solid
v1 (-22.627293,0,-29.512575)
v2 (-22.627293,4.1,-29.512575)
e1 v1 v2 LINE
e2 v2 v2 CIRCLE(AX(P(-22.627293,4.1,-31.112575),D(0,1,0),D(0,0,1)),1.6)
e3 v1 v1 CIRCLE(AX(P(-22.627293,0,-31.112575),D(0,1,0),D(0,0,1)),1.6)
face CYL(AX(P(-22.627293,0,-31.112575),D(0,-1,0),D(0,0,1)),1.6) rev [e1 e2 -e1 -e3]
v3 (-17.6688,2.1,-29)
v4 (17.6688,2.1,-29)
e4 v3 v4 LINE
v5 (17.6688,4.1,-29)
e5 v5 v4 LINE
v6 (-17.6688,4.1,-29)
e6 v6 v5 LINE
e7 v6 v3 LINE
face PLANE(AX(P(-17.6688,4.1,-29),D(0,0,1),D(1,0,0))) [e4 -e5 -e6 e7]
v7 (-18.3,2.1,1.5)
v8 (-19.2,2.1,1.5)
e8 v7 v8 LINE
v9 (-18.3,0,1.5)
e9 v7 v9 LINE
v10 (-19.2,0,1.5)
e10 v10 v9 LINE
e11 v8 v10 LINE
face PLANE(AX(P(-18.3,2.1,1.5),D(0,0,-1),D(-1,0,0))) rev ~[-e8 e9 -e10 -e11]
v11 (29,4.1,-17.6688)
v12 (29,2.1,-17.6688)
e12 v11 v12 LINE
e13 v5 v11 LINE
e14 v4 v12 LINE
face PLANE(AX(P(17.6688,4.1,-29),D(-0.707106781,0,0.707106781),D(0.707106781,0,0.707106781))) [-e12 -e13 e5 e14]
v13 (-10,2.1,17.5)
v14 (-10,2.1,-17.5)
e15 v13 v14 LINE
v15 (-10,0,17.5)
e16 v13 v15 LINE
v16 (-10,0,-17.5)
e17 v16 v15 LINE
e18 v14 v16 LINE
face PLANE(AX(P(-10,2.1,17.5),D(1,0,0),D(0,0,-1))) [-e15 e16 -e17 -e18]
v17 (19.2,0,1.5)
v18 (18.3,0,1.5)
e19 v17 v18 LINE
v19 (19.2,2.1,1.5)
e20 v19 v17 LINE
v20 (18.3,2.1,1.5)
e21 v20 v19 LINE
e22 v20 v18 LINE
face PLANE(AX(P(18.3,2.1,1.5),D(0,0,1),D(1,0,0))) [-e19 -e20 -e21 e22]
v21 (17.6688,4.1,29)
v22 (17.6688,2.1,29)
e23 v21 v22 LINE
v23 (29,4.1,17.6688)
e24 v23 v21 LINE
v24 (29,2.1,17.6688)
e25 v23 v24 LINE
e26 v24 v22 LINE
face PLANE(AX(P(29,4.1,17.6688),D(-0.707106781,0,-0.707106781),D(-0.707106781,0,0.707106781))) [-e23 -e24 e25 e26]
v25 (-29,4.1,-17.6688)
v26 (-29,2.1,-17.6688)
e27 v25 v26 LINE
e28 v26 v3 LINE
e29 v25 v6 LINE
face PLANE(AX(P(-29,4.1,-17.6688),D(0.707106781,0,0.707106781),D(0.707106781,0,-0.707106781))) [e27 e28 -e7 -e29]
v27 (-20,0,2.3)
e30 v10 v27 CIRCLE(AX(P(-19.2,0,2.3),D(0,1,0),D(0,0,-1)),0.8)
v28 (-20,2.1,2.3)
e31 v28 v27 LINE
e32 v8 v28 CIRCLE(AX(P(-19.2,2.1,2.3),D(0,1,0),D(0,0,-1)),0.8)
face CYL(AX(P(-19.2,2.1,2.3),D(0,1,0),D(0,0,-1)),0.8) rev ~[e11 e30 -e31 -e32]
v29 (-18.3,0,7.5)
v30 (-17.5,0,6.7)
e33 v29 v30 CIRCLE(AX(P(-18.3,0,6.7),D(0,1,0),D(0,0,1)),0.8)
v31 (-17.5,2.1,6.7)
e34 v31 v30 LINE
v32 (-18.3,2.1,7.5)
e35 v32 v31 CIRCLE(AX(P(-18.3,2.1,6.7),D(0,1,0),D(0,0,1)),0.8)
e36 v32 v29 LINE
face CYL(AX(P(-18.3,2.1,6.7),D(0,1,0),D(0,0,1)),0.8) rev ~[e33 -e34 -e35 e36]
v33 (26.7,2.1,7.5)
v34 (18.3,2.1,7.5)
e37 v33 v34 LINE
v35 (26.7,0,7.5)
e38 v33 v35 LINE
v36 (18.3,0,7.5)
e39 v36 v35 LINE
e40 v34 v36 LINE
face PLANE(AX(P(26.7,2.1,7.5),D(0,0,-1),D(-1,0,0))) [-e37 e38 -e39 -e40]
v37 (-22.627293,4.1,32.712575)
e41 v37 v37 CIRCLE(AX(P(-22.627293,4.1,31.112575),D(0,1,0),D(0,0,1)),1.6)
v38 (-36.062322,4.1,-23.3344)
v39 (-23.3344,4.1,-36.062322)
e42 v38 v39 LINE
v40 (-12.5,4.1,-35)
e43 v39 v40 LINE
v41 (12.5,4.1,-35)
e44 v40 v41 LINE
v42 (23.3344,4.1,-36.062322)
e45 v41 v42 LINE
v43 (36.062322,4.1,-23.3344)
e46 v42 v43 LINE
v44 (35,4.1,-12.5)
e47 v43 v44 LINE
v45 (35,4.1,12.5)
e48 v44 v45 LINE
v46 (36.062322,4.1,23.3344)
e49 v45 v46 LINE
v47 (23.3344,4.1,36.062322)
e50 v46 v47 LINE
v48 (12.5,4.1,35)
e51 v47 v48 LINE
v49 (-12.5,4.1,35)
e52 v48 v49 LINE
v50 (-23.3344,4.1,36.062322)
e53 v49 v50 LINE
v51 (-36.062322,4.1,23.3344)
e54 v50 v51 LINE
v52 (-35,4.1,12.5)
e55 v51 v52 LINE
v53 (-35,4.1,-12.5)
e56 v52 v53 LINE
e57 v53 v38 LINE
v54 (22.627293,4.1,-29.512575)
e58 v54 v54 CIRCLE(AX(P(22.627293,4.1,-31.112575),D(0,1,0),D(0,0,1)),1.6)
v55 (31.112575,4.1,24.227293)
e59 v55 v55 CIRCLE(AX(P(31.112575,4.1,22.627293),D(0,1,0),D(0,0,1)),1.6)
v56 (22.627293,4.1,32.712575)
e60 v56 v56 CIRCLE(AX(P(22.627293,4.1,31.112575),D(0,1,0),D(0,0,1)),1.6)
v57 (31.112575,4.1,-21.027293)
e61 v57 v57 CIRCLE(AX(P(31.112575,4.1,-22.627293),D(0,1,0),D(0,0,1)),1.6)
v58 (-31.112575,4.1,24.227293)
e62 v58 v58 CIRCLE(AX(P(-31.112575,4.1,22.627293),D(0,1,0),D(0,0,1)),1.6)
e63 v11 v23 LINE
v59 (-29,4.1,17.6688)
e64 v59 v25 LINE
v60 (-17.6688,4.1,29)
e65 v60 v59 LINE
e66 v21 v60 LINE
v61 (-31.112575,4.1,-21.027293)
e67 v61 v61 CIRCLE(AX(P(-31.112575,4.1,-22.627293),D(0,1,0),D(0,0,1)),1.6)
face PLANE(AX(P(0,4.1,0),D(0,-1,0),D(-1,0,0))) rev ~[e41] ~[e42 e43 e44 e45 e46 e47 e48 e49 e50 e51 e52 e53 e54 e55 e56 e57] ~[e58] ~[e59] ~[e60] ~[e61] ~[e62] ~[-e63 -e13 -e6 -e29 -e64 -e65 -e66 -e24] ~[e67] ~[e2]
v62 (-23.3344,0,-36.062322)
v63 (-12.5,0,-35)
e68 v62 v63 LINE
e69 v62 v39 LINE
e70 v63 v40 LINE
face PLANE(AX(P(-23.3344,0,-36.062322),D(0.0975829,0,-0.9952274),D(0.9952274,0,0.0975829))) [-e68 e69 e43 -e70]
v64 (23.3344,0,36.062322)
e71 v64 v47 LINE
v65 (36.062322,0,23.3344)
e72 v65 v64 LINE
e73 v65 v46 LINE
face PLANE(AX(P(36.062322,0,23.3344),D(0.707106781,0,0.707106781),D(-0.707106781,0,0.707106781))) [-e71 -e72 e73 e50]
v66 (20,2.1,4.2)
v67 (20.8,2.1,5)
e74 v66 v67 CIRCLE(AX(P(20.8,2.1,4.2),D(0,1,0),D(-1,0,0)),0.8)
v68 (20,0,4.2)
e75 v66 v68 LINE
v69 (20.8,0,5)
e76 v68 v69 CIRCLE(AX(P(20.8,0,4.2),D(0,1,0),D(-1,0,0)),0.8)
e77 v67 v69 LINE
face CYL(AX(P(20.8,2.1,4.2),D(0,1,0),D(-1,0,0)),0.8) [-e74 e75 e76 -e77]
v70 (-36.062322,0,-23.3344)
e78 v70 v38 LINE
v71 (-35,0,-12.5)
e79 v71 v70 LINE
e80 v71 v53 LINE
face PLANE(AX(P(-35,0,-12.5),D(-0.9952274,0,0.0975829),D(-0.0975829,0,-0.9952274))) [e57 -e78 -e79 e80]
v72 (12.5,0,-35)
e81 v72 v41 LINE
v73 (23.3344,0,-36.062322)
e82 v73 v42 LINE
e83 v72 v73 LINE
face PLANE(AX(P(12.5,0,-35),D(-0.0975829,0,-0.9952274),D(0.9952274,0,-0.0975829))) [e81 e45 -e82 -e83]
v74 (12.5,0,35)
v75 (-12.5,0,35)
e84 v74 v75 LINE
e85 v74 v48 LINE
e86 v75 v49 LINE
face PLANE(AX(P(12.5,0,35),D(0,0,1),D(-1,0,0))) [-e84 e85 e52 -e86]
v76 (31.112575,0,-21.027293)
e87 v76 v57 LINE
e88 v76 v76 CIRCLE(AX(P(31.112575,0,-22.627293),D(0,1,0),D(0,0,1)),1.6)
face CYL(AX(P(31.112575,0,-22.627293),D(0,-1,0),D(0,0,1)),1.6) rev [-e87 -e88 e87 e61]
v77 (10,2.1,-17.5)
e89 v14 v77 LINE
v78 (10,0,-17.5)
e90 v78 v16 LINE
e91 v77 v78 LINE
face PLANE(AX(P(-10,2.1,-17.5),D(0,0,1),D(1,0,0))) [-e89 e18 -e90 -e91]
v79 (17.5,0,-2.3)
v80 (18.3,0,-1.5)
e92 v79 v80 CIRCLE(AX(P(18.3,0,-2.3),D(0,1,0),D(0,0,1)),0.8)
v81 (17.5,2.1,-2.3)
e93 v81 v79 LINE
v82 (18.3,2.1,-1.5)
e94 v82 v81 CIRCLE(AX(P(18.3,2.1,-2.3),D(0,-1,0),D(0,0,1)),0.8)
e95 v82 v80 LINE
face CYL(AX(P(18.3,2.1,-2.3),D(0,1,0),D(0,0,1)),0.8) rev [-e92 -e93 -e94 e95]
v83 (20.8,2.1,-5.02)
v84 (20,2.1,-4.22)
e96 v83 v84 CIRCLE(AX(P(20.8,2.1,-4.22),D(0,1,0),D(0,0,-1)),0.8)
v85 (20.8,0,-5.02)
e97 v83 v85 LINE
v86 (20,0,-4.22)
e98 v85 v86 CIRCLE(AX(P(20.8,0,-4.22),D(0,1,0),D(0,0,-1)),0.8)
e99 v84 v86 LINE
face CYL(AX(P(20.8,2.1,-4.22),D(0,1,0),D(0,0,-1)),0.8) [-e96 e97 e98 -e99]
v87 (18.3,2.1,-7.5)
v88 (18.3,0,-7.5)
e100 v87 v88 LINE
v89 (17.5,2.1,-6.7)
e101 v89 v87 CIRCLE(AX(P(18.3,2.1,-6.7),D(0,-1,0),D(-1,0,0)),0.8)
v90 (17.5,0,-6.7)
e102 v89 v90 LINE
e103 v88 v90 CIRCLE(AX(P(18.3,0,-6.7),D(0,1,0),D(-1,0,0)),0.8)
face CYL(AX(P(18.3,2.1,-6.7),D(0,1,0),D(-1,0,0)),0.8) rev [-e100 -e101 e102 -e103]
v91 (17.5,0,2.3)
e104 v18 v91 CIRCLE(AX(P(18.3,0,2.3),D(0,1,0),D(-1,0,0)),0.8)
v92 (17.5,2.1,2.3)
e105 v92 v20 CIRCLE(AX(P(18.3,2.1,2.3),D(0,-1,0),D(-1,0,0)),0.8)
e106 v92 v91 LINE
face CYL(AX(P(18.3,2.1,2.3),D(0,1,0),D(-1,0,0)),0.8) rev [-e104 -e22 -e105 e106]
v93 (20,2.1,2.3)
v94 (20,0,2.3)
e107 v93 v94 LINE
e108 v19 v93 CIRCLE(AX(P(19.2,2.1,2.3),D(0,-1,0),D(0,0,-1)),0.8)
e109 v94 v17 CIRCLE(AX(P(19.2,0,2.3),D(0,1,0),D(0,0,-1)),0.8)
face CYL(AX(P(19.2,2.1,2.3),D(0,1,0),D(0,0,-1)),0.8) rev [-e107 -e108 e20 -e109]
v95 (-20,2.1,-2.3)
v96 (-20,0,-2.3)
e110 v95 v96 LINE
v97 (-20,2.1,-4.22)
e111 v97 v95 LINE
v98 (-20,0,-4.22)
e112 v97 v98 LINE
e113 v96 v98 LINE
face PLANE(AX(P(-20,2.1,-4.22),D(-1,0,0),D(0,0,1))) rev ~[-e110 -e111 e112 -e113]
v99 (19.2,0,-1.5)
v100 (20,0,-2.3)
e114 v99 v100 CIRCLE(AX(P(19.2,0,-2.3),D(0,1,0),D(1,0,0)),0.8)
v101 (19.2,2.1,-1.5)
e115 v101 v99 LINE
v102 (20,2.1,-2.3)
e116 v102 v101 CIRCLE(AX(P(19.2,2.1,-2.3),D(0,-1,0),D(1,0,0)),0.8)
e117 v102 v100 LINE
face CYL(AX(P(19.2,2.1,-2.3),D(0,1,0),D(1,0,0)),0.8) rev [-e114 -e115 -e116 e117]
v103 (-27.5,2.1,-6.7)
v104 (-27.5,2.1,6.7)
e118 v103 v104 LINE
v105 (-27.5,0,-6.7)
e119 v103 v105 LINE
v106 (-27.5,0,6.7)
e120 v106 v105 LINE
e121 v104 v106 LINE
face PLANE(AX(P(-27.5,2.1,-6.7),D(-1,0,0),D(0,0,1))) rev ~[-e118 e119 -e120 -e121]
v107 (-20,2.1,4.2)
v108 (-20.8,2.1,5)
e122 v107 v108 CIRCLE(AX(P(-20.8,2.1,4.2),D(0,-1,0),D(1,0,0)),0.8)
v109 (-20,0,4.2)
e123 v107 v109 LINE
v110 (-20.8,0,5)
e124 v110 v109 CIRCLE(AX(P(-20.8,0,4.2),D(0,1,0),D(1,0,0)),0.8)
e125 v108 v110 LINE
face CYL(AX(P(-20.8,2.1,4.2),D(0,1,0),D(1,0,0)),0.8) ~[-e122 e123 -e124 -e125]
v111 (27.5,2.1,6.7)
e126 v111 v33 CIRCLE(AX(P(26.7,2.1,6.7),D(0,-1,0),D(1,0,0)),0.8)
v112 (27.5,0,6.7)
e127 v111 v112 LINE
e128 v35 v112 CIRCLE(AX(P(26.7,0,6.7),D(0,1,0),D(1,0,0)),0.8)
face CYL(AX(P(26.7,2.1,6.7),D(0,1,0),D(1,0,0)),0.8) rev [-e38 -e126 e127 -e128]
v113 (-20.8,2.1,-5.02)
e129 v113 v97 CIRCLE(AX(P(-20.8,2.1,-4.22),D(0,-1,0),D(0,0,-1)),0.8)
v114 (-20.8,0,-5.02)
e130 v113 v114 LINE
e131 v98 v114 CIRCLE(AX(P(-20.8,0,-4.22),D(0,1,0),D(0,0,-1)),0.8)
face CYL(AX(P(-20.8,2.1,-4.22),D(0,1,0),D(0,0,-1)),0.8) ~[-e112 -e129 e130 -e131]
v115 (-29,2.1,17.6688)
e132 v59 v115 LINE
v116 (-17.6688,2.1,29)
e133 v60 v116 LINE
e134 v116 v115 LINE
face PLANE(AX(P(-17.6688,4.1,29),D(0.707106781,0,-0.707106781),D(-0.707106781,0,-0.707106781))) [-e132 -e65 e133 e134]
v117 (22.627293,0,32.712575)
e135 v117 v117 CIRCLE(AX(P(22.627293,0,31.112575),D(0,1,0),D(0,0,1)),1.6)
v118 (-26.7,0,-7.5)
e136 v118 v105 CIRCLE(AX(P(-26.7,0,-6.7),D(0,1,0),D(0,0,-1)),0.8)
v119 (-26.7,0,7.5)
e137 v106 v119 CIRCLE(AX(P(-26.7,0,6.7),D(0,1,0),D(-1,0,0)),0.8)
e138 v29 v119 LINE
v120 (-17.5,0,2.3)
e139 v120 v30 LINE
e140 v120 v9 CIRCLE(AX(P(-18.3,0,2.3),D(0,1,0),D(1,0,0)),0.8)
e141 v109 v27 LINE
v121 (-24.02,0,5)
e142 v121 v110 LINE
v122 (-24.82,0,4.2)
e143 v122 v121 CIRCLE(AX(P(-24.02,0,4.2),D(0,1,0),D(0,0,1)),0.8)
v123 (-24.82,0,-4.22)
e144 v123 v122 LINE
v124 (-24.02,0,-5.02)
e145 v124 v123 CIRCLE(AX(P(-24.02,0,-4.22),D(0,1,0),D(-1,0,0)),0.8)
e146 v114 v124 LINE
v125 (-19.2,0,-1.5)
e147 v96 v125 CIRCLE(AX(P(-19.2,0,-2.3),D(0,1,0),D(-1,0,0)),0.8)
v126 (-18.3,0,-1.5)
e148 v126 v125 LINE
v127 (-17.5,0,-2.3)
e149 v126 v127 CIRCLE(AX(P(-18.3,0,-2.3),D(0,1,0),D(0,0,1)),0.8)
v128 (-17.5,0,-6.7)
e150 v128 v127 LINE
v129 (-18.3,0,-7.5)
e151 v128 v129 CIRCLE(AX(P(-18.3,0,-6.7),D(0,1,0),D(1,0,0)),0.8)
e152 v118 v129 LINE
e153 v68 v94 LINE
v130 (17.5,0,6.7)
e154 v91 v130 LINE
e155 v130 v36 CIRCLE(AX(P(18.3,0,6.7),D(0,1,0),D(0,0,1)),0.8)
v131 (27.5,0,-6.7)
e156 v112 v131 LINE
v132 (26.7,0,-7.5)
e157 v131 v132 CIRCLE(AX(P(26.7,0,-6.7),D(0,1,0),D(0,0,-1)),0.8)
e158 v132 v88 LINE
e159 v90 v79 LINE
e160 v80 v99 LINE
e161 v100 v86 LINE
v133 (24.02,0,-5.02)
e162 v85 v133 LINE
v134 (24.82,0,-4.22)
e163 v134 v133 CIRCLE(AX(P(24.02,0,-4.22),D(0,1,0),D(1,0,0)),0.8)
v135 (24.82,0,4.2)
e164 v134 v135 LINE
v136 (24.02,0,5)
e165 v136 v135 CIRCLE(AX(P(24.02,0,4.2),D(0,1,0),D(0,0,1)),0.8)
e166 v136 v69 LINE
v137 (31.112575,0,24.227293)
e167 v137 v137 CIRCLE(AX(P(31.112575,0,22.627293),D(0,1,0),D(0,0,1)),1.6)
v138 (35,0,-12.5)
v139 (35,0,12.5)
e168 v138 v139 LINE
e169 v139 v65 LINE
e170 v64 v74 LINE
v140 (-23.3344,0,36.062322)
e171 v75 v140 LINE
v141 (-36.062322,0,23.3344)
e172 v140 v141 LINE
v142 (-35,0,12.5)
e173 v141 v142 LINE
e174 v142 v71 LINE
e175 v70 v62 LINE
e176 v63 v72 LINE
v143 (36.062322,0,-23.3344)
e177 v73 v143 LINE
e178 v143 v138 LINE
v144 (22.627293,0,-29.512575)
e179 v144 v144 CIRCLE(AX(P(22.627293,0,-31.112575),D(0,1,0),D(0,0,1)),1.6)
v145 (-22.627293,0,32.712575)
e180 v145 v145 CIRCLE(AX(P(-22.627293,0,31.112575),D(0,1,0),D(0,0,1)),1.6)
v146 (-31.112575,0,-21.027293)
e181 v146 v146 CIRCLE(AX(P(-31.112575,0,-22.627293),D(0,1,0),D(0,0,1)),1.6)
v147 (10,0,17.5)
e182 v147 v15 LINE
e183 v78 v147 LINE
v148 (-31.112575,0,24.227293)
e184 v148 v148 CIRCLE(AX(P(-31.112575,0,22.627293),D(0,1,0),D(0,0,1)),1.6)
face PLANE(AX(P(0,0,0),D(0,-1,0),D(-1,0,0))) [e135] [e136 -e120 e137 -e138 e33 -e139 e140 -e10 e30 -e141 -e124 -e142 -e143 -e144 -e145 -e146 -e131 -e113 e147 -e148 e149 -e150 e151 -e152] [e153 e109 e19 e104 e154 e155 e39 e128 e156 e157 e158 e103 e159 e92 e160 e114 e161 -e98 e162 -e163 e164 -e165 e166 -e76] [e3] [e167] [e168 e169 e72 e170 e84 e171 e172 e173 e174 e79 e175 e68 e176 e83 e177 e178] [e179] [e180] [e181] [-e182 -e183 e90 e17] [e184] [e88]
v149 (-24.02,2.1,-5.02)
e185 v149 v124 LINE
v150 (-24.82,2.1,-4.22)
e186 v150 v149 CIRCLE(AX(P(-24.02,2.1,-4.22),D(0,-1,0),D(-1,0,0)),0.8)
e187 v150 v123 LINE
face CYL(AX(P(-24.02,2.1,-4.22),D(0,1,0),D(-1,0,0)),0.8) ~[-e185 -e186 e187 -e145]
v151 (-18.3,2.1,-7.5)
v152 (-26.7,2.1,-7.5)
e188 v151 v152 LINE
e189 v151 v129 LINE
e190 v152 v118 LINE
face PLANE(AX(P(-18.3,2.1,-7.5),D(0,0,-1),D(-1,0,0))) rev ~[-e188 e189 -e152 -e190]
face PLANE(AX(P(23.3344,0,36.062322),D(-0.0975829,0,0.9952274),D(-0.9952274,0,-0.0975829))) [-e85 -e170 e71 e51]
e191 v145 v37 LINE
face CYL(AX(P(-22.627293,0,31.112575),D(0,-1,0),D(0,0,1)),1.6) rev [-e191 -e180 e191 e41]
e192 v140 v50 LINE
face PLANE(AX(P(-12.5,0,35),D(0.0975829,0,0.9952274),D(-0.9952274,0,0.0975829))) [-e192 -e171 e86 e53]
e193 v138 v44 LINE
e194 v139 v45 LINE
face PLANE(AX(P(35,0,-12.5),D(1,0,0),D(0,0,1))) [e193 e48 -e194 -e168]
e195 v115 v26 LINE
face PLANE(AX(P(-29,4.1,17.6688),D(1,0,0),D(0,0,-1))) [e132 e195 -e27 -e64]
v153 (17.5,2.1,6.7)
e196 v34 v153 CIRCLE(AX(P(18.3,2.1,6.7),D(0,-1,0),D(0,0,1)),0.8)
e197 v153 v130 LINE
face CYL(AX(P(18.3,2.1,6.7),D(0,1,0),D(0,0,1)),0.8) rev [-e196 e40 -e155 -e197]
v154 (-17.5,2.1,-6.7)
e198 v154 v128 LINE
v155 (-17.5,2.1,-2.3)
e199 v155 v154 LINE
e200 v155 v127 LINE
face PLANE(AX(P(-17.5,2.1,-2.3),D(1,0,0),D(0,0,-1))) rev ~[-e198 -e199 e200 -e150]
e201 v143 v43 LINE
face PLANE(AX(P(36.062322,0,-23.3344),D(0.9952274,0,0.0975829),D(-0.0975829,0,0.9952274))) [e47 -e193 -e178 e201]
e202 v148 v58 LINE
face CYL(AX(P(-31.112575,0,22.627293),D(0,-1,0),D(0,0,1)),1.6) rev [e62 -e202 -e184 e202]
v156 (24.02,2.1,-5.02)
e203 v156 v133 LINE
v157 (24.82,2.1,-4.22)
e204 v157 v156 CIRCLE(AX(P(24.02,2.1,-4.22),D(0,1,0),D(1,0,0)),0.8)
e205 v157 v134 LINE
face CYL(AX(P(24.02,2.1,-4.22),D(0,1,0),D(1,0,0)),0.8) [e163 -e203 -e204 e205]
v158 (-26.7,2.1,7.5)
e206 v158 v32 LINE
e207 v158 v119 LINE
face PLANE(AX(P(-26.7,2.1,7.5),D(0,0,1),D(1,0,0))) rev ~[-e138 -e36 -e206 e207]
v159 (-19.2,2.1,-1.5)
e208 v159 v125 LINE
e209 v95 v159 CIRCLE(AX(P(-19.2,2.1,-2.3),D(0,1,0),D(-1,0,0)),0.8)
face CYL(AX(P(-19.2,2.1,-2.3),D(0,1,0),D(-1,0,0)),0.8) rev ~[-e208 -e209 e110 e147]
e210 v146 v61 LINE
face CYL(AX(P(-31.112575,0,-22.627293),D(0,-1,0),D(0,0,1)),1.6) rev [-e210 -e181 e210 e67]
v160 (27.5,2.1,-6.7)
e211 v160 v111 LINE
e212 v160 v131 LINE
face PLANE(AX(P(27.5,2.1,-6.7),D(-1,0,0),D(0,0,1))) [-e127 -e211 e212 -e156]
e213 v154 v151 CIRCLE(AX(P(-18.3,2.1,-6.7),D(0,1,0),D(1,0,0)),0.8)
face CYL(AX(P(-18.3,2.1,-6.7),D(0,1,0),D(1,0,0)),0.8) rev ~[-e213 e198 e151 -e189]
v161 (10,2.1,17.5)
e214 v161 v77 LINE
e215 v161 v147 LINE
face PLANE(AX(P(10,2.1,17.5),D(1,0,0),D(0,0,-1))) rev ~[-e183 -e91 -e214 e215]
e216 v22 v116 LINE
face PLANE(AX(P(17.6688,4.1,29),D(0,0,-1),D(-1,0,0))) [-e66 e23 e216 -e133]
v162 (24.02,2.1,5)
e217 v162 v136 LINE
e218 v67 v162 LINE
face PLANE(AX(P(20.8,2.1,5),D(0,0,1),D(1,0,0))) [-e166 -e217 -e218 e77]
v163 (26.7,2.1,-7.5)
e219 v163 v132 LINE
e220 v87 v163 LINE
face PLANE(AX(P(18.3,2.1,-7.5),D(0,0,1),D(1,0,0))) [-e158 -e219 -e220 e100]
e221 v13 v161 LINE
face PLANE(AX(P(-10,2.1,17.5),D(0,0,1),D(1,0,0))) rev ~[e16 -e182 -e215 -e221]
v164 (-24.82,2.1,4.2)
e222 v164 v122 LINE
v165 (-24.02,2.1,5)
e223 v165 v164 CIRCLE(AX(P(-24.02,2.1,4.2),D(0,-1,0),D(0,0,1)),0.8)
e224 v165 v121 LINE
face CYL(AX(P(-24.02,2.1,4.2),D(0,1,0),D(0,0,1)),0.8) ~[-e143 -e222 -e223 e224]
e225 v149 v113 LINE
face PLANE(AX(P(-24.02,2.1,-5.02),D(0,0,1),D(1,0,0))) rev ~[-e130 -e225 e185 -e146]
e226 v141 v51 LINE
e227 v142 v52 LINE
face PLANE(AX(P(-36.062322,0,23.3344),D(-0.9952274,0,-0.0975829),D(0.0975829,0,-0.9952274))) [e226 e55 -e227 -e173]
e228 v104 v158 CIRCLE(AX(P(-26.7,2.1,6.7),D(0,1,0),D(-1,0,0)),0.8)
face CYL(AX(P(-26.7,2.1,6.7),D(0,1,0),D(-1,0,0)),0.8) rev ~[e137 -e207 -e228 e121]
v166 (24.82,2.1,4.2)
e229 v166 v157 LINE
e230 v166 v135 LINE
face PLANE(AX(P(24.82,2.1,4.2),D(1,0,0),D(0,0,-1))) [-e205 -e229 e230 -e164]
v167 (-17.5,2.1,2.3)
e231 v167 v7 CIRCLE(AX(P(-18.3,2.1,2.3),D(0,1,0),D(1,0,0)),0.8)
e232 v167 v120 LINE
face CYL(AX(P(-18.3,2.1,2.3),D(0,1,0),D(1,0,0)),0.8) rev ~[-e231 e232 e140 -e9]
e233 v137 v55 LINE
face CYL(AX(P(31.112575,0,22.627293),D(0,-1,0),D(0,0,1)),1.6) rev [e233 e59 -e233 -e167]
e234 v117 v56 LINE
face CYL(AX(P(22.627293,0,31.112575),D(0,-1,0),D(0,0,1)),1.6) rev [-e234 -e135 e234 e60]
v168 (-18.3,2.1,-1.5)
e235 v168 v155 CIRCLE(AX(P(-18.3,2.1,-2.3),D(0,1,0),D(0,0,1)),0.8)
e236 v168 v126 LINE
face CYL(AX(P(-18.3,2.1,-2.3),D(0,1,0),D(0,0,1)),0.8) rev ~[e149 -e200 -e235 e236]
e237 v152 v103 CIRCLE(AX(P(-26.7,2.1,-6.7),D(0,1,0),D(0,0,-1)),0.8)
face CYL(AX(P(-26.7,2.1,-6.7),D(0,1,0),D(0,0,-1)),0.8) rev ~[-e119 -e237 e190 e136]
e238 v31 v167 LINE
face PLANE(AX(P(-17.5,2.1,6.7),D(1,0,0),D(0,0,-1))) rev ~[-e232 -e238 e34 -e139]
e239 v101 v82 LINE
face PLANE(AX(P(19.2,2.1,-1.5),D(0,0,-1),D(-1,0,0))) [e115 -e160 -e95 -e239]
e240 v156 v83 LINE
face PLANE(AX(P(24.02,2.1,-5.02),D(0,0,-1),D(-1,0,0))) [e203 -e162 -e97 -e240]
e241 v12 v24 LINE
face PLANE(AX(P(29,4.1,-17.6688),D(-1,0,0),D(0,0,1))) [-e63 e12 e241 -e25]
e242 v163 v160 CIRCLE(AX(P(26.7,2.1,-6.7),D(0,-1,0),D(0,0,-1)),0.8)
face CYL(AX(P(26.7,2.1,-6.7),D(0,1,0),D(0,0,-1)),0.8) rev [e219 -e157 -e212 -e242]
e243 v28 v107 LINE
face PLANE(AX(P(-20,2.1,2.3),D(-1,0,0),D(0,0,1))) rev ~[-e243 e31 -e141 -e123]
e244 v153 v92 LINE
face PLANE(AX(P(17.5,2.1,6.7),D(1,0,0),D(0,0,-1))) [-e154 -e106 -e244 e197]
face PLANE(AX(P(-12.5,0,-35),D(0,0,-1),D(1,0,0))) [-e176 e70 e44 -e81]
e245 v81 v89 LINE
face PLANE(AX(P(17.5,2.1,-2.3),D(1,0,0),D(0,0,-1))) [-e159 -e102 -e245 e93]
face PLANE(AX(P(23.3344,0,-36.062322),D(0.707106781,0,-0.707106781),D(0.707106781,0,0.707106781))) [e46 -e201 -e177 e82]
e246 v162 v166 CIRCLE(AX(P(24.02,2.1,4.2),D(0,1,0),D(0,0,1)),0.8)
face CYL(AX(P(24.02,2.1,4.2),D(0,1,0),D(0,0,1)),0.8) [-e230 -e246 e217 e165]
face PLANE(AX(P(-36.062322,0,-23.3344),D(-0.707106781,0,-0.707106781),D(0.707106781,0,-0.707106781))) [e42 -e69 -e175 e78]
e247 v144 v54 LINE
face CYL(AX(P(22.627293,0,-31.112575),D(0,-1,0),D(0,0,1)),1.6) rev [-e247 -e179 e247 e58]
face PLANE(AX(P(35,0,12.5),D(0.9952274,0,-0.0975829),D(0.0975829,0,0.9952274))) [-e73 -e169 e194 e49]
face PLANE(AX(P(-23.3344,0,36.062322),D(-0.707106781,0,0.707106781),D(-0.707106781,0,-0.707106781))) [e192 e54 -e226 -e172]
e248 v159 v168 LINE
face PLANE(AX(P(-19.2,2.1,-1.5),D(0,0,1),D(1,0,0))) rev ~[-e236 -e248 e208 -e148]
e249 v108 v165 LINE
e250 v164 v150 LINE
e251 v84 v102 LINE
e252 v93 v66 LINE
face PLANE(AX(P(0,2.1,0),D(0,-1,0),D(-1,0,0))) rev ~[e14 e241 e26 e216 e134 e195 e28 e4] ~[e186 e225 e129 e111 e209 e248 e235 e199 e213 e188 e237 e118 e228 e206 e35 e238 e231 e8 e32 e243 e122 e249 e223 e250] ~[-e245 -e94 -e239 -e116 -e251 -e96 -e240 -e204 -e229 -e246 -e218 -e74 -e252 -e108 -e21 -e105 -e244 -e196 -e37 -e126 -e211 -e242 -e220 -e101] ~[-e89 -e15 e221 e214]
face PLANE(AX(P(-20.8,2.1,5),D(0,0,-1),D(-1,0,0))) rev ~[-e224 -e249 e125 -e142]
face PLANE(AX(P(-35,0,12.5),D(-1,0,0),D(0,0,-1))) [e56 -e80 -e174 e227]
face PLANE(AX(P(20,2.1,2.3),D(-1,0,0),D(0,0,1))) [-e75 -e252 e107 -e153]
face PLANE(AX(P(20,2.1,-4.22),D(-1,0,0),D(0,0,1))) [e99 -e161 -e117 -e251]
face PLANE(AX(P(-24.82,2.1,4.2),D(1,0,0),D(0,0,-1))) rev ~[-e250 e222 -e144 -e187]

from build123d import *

# Parameters (mm, degrees)
SKETCH1_R           = 1.6
BOSS_EXTRUDE1_DEPTH = 4.1
CUT_EXTRUDE1_DEPTH  = 2
CUT_EXTRUDE2_DEPTH  = 52.043042311
SKETCH4_W           = 20
SKETCH4_H           = 35
CUT_EXTRUDE3_DEPTH  = 52.043042311


with BuildPart() as part:
    # Sketch1 → Boss-Extrude1 (new body)
    with BuildSketch(Plane(origin=(0, 0, 0), x_dir=(1, 0, 0), z_dir=(0, 1, 0))):
        Polygon((-35, 12.5), (-36.062322224, 23.334400163), (-23.334400163, 36.062322224), (-12.5, 35), (12.5, 35), (23.334400163, 36.062322224), (36.062322224, 23.334400163), (35, 12.5), (35, -12.5), (36.062322224, -23.334400163), (23.334400163, -36.062322224), (12.5, -35), (-12.5, -35), (-23.334400163, -36.062322224), (-36.062322224, -23.334400163), (-35, -12.5), align=None)
        with Locations(Location((22.627293382, 31.112574756, 0), (0, 0, 270))):
            Circle(SKETCH1_R, mode=Mode.SUBTRACT)
        with Locations(Location((31.112574756, 22.627293382, 0), (0, 0, 270))):
            Circle(SKETCH1_R, mode=Mode.SUBTRACT)
        with Locations(Location((31.112574756, -22.627293382, 0), (0, 0, 270))):
            Circle(SKETCH1_R, mode=Mode.SUBTRACT)
        with Locations(Location((22.627293382, -31.112574756, 0), (0, 0, 270))):
            Circle(SKETCH1_R, mode=Mode.SUBTRACT)
        with Locations(Location((-22.627293382, -31.112574756, 0), (0, 0, 270))):
            Circle(SKETCH1_R, mode=Mode.SUBTRACT)
        with Locations(Location((-31.112574756, -22.627293382, 0), (0, 0, 270))):
            Circle(SKETCH1_R, mode=Mode.SUBTRACT)
        with Locations(Location((-31.112574756, 22.627293382, 0), (0, 0, 270))):
            Circle(SKETCH1_R, mode=Mode.SUBTRACT)
        with Locations(Location((-22.627293382, 31.112574756, 0), (0, 0, 270))):
            Circle(SKETCH1_R, mode=Mode.SUBTRACT)
    extrude(amount=BOSS_EXTRUDE1_DEPTH)

    # Sketch2 → Cut-Extrude1 (cut)
    with BuildSketch(Plane(origin=(0, 4.1, 0), x_dir=(1, 0, 0), z_dir=(0, 1, 0))):
        Polygon((-17.668800325, 29), (17.668800325, 29), (29, 17.668800325), (29, -17.668800325), (17.668800325, -29), (-17.668800325, -29), (-29, -17.668800325), (-29, 17.668800325), align=None)
    extrude(amount=-CUT_EXTRUDE1_DEPTH, mode=Mode.SUBTRACT)

    # Sketch3 → Cut-Extrude2 (cut, through all)
    with BuildSketch(Plane(origin=(0, 2.1, 0), x_dir=(1, 0, 0), z_dir=(0, 1, 0))):
        with BuildLine():
            Line((-27.5, 6.7), (-27.5, -6.7))
            ThreePointArc((-27.5, -6.7), (-27.265685425, -7.265685425), (-26.7, -7.5))
            Line((-26.7, -7.5), (-18.3, -7.5))
            ThreePointArc((-18.3, -7.5), (-17.734314575, -7.265685425), (-17.5, -6.7))
            Line((-17.5, -6.7), (-17.5, -2.3))
            ThreePointArc((-17.5, -2.3), (-17.734314575, -1.734314575), (-18.3, -1.5))
            Line((-18.3, -1.5), (-19.2, -1.5))
            ThreePointArc((-19.2, -1.5), (-19.765685425, -1.734314575), (-20, -2.3))
            Line((-20, -2.3), (-20, -4.2))
            ThreePointArc((-20, -4.2), (-20.234314575, -4.765685425), (-20.8, -5))
            Line((-20.8, -5), (-24.02, -5))
            ThreePointArc((-24.02, -5), (-24.585685425, -4.765685425), (-24.82, -4.2))
            Line((-24.82, -4.2), (-24.82, 4.22))
            ThreePointArc((-24.82, 4.22), (-24.585685425, 4.785685425), (-24.02, 5.02))
            Line((-24.02, 5.02), (-20.8, 5.02))
            ThreePointArc((-20.8, 5.02), (-20.234314575, 4.785685425), (-20, 4.22))
            Line((-20, 4.22), (-20, 2.3))
            ThreePointArc((-20, 2.3), (-19.765685425, 1.734314575), (-19.2, 1.5))
            Line((-19.2, 1.5), (-18.3, 1.5))
            ThreePointArc((-18.3, 1.5), (-17.734314575, 1.734314575), (-17.5, 2.3))
            Line((-17.5, 2.3), (-17.5, 6.7))
            ThreePointArc((-17.5, 6.7), (-17.734314575, 7.265685425), (-18.3, 7.5))
            Line((-18.3, 7.5), (-26.7, 7.5))
            ThreePointArc((-26.7, 7.5), (-27.265685425, 7.265685425), (-27.5, 6.7))
        make_face()
        with BuildLine():
            Line((18.3, 7.5), (26.7, 7.5))
            ThreePointArc((26.7, 7.5), (27.265685425, 7.265685425), (27.5, 6.7))
            Line((27.5, 6.7), (27.5, -6.7))
            ThreePointArc((27.5, -6.7), (27.265685425, -7.265685425), (26.7, -7.5))
            Line((26.7, -7.5), (18.3, -7.5))
            ThreePointArc((18.3, -7.5), (17.734314575, -7.265685425), (17.5, -6.7))
            Line((17.5, -6.7), (17.5, -2.3))
            ThreePointArc((17.5, -2.3), (17.734314575, -1.734314575), (18.3, -1.5))
            Line((18.3, -1.5), (19.2, -1.5))
            ThreePointArc((19.2, -1.5), (19.765685425, -1.734314575), (20, -2.3))
            Line((20, -2.3), (20, -4.2))
            ThreePointArc((20, -4.2), (20.234314575, -4.765685425), (20.8, -5))
            Line((20.8, -5), (24.02, -5))
            ThreePointArc((24.02, -5), (24.585685425, -4.765685425), (24.82, -4.2))
            Line((24.82, -4.2), (24.82, 4.22))
            ThreePointArc((24.82, 4.22), (24.585685425, 4.785685425), (24.02, 5.02))
            Line((24.02, 5.02), (20.8, 5.02))
            ThreePointArc((20.8, 5.02), (20.234314575, 4.785685425), (20, 4.22))
            Line((20, 4.22), (20, 2.3))
            ThreePointArc((20, 2.3), (19.765685425, 1.734314575), (19.2, 1.5))
            Line((19.2, 1.5), (18.3, 1.5))
            ThreePointArc((18.3, 1.5), (17.734314575, 1.734314575), (17.5, 2.3))
            Line((17.5, 2.3), (17.5, 6.7))
            ThreePointArc((17.5, 6.7), (17.734314575, 7.265685425), (18.3, 7.5))
        make_face()
    extrude(amount=-CUT_EXTRUDE2_DEPTH, mode=Mode.SUBTRACT)

    # Sketch4 → Cut-Extrude3 (cut, through all)
    with BuildSketch(Plane(origin=(0, 2.1, 0), x_dir=(1, 0, 0), z_dir=(0, 1, 0))):
        Rectangle(SKETCH4_W, SKETCH4_H)
    extrude(amount=-CUT_EXTRUDE3_DEPTH, mode=Mode.SUBTRACT)


solid = part.part
